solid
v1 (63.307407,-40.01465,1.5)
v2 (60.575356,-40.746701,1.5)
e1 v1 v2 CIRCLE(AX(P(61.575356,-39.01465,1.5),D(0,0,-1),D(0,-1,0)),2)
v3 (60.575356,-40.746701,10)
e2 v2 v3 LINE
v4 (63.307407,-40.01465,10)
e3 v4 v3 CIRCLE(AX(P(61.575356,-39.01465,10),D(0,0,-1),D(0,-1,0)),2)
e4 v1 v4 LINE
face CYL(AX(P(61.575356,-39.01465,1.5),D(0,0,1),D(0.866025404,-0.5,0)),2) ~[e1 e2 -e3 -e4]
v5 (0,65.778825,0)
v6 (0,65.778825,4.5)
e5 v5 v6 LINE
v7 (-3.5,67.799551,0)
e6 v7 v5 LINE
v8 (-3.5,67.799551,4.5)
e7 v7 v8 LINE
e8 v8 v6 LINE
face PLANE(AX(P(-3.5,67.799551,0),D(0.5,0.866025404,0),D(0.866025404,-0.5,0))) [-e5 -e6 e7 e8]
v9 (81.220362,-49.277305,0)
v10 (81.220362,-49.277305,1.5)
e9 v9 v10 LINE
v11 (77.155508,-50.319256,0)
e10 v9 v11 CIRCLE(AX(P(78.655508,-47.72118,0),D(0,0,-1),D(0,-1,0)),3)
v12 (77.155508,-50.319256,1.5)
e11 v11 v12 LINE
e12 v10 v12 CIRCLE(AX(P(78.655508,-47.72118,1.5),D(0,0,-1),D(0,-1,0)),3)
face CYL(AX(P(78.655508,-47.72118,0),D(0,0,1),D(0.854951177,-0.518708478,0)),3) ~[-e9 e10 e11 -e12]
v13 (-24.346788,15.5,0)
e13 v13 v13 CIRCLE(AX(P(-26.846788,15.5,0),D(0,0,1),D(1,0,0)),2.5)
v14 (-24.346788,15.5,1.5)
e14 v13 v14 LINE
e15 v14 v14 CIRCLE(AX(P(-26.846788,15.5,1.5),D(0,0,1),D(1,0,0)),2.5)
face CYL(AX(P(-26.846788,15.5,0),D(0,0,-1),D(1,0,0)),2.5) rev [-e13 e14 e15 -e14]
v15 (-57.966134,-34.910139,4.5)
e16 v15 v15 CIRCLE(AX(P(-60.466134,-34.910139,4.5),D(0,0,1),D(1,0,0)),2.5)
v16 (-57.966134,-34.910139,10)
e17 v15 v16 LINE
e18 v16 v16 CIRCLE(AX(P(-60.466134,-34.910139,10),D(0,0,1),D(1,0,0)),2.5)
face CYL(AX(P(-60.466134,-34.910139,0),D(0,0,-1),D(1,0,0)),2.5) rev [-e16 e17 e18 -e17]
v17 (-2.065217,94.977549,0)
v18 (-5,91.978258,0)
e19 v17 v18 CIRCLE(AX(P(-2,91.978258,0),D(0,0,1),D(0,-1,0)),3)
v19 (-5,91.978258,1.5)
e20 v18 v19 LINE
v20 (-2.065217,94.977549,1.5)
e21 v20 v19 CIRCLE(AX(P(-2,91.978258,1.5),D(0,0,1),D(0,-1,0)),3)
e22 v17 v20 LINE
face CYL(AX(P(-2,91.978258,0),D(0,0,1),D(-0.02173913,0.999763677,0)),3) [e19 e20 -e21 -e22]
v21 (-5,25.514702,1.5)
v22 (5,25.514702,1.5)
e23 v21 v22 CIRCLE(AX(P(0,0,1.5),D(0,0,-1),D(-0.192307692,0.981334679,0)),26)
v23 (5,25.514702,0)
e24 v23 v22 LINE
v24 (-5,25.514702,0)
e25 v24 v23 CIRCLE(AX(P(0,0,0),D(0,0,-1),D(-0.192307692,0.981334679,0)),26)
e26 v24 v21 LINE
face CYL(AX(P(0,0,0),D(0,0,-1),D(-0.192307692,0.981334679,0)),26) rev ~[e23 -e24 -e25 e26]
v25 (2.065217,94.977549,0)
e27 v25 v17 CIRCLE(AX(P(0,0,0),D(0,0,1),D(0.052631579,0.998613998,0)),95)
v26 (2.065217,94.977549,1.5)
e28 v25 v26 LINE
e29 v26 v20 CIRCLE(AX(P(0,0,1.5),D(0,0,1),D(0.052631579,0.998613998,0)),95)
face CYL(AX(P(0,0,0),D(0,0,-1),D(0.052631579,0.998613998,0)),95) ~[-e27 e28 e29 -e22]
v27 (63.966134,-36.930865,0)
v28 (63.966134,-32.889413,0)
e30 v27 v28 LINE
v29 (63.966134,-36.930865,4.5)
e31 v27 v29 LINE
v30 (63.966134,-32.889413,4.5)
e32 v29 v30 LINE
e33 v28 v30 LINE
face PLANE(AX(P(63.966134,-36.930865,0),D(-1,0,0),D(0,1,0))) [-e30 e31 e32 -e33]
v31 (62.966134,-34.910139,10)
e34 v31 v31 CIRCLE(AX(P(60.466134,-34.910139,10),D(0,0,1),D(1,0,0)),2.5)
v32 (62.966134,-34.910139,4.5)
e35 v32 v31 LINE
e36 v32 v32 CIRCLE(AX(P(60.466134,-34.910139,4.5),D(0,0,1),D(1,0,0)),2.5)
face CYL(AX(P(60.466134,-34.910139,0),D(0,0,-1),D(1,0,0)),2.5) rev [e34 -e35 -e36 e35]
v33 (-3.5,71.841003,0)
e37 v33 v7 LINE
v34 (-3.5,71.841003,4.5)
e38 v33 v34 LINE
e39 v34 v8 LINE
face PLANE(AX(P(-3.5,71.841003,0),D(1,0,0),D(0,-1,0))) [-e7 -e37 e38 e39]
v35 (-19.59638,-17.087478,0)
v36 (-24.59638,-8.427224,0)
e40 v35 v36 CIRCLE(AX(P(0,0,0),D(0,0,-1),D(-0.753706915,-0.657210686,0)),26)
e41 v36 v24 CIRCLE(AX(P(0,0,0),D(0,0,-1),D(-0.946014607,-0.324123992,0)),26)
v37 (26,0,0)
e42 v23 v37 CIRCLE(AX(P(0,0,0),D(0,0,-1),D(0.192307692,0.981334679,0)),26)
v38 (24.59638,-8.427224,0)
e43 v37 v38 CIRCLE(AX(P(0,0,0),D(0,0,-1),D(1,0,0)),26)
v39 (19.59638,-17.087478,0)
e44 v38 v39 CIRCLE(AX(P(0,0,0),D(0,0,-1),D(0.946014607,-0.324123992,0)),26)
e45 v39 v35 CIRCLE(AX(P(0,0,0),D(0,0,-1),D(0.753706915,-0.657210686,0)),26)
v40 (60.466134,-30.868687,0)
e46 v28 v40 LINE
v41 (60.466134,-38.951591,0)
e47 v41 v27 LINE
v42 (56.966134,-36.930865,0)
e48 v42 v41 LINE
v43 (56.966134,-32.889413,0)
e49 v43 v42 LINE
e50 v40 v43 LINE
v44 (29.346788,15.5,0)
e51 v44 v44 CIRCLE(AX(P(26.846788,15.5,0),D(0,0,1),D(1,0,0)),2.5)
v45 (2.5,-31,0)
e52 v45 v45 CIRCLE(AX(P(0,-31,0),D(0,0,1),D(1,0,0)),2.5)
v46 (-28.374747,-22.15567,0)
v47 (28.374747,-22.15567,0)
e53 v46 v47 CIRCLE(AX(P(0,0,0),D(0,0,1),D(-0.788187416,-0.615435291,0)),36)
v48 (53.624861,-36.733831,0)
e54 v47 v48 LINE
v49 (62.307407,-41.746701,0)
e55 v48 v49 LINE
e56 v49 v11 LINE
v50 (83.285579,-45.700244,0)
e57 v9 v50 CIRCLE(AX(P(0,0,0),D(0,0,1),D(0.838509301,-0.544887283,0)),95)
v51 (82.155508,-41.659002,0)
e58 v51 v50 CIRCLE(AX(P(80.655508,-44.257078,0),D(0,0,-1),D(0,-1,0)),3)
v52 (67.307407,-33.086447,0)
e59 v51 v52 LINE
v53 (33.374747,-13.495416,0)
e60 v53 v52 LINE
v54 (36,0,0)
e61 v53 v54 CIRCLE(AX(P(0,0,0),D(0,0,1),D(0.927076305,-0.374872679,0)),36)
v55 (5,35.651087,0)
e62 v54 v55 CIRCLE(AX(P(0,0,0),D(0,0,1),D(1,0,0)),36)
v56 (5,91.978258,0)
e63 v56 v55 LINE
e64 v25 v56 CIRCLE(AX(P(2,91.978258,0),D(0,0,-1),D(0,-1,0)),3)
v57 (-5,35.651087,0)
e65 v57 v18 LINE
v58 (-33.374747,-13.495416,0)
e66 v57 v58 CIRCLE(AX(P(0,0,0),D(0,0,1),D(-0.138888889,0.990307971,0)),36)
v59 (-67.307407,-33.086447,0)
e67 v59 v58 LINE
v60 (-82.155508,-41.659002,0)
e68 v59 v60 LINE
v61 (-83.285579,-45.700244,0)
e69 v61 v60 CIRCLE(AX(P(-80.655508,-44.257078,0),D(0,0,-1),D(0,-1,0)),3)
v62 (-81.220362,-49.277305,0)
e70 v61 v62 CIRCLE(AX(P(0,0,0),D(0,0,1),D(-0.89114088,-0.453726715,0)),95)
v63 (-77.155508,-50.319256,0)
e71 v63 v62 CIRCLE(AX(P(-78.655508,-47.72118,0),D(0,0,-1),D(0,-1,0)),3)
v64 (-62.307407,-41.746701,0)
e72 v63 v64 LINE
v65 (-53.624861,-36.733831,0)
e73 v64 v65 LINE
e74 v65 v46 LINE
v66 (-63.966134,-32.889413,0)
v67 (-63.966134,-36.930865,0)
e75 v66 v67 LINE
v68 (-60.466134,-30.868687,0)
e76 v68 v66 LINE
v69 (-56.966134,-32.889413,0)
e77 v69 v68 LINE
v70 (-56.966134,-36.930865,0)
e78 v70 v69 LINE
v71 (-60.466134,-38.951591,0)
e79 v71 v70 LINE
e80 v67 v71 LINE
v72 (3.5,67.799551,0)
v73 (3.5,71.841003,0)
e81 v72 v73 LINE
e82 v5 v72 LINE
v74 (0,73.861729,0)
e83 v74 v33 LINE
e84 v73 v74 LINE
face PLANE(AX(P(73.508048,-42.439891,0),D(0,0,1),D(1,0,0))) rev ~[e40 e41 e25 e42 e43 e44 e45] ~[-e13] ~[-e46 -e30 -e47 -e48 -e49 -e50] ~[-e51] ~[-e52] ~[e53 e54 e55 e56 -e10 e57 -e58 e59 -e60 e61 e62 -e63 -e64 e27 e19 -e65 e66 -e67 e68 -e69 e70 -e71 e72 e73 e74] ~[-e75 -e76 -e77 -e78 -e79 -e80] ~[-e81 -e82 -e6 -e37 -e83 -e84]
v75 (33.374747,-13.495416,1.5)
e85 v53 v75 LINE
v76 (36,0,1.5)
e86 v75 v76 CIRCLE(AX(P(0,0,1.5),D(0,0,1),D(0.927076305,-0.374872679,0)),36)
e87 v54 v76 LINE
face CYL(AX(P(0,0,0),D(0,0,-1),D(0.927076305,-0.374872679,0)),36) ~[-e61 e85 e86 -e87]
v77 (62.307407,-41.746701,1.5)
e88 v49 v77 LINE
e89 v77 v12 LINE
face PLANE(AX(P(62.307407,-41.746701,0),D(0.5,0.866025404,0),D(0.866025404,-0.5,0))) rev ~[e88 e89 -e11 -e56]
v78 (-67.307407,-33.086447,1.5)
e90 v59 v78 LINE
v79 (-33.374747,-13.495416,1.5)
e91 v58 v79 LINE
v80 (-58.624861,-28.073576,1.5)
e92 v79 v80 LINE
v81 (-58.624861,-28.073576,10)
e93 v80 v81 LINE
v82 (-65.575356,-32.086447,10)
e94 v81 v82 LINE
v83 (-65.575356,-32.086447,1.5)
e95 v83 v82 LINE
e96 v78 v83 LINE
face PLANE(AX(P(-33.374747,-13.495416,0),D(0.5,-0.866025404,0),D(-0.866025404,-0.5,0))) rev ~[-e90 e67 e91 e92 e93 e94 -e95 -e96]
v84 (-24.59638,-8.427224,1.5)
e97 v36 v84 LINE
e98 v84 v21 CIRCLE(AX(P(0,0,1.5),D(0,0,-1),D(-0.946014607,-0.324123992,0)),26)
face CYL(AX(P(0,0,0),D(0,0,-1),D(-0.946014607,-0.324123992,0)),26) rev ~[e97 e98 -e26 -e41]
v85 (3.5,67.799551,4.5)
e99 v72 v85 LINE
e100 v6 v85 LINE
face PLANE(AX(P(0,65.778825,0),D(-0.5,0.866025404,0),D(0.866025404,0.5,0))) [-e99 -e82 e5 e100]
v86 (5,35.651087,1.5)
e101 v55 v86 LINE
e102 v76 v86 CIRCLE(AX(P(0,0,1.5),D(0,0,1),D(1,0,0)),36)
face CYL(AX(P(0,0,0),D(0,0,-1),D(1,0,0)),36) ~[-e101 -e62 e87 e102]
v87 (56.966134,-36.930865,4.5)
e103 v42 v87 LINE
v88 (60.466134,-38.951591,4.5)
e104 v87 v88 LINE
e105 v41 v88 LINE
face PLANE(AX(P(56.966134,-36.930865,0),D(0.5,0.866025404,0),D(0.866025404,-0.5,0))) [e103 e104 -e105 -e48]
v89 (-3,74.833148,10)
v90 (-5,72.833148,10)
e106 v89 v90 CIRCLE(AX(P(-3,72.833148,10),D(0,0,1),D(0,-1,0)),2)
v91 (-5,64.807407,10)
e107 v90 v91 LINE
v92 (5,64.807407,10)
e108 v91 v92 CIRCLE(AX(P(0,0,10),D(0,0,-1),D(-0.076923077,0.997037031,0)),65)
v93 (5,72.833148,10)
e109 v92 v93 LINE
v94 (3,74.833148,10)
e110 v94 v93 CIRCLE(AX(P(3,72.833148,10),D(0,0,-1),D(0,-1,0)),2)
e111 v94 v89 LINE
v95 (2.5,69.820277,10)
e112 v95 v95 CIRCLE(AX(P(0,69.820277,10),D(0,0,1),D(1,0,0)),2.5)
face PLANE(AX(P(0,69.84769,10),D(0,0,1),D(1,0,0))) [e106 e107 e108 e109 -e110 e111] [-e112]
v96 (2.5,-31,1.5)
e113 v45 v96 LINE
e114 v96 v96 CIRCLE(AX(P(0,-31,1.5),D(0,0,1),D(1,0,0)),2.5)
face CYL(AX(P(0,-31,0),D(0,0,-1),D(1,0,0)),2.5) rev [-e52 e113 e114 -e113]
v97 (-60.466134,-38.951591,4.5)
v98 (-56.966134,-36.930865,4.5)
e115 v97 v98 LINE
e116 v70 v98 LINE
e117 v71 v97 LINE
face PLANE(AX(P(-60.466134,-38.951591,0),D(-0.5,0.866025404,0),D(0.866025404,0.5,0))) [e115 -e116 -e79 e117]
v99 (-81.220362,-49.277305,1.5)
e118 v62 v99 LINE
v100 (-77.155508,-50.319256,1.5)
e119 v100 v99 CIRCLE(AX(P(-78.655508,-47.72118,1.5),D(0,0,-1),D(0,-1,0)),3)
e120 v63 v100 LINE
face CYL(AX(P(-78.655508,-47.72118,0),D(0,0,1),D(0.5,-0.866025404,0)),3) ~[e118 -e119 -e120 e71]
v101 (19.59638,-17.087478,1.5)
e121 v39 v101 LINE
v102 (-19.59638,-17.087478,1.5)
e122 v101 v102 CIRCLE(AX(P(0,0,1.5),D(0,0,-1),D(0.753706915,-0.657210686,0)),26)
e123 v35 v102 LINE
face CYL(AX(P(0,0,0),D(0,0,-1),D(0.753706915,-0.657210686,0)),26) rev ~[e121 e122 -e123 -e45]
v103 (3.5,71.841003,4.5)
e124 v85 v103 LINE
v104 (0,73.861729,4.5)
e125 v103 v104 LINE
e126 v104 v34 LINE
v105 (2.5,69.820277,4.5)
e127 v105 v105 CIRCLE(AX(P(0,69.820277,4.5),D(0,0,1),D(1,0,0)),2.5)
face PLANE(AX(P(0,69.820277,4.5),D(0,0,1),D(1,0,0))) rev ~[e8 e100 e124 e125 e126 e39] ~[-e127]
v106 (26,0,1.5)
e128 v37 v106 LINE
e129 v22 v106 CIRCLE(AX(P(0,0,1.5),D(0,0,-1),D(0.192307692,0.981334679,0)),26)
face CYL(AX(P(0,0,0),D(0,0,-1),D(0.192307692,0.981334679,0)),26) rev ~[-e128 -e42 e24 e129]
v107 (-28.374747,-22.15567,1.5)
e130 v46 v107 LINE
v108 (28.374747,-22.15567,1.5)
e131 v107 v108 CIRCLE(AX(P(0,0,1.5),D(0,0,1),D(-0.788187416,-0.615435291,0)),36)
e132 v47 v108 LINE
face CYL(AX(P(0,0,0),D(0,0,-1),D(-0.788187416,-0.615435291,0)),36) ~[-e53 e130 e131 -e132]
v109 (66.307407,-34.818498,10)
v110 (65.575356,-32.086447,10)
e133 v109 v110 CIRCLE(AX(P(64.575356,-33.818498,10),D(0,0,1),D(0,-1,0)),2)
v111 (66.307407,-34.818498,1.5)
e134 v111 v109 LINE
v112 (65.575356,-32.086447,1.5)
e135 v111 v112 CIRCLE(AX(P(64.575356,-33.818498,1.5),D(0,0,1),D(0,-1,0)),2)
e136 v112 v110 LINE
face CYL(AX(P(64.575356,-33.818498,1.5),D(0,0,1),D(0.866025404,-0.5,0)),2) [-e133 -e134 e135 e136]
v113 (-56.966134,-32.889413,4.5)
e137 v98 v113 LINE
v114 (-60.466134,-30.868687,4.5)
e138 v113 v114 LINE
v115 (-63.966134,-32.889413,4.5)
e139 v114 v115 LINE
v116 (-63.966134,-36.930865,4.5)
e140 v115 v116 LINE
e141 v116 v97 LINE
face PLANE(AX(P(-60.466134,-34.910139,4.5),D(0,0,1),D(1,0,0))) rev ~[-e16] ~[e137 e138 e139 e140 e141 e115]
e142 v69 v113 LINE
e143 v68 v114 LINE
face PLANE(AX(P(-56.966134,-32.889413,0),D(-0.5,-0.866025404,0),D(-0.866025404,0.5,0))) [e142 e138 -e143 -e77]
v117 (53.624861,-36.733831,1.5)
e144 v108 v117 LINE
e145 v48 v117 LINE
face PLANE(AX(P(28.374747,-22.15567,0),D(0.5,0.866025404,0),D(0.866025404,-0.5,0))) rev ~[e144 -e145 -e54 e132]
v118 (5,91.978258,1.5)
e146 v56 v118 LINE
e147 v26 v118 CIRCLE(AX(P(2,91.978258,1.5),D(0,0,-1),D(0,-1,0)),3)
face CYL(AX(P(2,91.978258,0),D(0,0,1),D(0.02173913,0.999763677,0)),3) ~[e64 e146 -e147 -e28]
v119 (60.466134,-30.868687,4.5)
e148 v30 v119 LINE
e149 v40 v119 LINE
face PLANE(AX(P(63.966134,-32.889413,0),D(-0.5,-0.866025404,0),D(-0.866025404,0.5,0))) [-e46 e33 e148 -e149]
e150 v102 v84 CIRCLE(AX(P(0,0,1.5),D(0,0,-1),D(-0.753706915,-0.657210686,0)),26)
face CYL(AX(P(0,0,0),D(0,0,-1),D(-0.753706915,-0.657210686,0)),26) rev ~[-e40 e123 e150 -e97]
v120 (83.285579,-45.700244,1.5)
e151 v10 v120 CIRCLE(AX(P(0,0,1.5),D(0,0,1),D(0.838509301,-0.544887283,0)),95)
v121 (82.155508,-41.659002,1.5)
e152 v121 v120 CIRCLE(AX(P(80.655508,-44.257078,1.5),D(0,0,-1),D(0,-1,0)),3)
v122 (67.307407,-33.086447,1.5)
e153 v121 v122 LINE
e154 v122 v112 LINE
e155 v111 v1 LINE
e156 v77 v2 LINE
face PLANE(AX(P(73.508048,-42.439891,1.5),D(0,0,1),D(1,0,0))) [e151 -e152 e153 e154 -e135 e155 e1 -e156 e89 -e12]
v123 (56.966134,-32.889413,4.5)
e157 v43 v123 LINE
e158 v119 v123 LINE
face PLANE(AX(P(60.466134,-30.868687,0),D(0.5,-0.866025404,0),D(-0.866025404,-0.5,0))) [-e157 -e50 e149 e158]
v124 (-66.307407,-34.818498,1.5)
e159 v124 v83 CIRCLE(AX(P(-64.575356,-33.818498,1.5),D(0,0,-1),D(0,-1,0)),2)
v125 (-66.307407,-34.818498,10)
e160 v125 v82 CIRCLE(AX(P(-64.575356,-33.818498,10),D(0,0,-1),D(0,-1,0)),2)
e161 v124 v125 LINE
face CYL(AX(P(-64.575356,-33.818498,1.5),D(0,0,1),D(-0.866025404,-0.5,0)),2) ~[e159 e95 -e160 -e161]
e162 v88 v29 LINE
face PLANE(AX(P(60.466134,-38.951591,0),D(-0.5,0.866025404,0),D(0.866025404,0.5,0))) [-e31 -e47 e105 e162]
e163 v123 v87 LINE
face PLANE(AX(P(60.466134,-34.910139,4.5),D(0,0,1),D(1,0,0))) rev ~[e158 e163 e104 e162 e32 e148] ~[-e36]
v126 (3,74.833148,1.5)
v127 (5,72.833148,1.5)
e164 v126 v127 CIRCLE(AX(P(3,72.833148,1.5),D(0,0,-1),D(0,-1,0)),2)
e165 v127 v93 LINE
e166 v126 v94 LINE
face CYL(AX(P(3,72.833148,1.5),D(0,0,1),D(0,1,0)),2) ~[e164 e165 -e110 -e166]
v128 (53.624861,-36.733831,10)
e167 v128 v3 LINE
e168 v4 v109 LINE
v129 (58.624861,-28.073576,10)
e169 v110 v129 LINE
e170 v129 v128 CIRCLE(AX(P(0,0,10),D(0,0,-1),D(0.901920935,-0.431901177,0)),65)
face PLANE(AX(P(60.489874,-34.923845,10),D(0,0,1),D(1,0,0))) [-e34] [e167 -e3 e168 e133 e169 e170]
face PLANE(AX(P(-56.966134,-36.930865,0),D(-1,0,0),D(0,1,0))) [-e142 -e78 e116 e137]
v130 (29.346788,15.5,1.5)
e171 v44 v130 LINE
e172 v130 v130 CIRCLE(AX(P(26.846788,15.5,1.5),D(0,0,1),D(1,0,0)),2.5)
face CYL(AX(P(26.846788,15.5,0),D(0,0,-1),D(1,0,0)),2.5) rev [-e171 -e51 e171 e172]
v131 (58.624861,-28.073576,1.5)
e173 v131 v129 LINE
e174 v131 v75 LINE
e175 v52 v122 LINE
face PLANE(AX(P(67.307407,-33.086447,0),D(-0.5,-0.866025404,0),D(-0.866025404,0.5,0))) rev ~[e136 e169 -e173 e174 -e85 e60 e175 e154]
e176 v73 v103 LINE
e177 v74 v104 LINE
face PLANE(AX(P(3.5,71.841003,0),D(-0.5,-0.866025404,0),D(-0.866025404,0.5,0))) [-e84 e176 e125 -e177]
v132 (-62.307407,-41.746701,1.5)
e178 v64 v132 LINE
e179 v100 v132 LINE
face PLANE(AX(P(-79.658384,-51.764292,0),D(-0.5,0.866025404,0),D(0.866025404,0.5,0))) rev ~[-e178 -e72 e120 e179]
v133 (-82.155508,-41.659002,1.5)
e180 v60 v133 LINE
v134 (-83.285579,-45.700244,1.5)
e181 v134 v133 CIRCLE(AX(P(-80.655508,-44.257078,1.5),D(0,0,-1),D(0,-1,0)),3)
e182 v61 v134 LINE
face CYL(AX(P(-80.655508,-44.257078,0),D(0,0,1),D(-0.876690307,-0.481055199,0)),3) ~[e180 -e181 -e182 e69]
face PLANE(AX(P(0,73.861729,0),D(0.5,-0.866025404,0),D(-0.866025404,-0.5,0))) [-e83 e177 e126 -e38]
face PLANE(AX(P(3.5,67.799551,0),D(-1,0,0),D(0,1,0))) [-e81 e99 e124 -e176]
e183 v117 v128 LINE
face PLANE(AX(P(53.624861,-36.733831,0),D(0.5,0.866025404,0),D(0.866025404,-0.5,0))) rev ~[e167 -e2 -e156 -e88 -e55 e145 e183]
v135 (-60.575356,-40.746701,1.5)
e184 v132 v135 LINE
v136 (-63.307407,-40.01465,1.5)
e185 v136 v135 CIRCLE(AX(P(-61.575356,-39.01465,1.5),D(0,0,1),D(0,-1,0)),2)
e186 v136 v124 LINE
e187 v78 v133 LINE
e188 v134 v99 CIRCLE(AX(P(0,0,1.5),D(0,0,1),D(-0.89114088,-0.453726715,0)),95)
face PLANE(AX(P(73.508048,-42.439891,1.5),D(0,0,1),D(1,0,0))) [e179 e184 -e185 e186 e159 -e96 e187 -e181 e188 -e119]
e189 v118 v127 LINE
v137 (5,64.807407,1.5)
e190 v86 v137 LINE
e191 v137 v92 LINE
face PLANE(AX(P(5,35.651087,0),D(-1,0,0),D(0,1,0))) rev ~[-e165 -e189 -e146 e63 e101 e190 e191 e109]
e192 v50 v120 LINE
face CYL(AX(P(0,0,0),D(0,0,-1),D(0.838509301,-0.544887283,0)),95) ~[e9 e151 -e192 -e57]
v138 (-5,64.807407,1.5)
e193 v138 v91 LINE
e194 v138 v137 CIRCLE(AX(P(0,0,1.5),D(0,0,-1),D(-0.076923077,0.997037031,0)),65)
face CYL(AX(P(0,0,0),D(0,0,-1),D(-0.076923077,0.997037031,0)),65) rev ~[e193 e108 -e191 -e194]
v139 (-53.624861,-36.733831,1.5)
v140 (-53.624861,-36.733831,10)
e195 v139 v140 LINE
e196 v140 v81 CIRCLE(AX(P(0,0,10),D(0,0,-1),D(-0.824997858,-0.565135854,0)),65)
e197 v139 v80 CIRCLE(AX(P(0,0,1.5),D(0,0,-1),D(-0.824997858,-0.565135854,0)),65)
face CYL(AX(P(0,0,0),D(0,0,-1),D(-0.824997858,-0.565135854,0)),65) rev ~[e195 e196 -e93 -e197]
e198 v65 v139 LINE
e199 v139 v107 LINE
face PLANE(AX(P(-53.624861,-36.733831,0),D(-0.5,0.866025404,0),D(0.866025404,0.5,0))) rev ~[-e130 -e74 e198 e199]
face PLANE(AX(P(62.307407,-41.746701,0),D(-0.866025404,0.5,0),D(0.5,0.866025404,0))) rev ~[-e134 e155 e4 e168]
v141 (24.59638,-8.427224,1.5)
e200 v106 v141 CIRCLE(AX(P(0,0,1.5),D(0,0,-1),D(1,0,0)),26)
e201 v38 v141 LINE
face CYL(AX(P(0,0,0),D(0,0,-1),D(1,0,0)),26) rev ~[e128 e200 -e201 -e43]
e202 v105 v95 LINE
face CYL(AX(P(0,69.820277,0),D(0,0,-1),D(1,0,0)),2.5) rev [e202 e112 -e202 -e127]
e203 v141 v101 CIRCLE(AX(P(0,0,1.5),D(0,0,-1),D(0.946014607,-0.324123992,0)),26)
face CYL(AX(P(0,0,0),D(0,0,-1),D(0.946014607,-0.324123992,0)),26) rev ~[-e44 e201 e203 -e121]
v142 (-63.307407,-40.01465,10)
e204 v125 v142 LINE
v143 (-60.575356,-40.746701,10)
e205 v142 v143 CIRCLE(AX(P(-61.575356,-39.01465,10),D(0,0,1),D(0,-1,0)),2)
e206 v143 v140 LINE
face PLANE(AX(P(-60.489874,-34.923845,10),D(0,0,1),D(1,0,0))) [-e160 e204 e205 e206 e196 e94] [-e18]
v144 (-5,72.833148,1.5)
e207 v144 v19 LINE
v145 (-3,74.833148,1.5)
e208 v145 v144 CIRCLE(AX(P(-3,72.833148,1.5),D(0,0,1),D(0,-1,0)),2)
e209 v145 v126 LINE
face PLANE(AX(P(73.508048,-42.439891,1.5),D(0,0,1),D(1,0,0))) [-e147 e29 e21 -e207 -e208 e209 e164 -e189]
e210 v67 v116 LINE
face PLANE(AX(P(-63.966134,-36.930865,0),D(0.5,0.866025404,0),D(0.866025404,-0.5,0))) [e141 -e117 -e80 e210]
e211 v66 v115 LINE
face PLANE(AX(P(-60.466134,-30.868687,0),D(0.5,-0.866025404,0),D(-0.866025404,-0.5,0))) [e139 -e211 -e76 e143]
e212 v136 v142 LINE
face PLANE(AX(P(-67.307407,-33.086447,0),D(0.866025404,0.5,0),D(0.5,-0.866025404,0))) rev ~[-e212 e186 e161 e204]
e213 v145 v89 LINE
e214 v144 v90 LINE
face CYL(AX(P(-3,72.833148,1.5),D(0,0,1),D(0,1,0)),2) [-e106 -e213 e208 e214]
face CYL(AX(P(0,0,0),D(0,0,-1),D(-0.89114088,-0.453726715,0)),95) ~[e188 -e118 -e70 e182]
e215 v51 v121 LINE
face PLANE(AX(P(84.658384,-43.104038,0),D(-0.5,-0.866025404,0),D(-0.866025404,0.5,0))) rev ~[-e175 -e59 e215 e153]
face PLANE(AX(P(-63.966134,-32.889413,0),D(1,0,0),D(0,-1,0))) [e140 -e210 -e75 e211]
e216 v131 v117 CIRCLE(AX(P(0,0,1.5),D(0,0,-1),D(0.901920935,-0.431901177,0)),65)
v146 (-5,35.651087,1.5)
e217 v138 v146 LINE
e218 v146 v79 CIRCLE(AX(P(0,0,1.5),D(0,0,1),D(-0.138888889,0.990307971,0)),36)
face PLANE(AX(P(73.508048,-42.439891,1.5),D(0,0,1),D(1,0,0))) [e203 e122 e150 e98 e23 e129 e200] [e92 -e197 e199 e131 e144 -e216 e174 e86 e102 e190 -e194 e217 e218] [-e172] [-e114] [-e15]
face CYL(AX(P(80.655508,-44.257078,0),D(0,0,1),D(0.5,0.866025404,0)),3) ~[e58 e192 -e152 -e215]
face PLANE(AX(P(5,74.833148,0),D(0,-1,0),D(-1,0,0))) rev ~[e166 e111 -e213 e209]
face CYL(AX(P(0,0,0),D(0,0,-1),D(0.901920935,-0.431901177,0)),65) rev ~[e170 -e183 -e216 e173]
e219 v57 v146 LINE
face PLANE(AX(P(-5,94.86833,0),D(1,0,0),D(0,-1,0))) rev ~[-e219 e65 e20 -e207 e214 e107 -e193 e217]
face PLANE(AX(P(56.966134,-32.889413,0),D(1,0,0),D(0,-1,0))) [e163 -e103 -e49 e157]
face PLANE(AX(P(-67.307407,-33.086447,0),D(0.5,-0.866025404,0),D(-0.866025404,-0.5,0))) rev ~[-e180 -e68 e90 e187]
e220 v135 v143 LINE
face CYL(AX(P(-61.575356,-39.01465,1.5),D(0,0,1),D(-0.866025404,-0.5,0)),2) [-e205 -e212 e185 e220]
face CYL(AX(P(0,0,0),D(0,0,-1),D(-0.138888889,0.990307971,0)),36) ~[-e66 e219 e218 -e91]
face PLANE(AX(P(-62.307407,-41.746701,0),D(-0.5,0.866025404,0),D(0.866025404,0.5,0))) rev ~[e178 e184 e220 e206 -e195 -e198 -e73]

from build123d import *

# Parameters (mm, degrees)
F0_R     = 2.5
F1_DEPTH = 1.5
F2_DEPTH = 10
F3_R     = 2
F4_R     = 3
F5_DEPTH = 4.5


with BuildPart() as f1:
    # F0 (on Top) → F1 (new body)
    with BuildSketch(Plane.XY):
        with BuildLine():
            Line((84.6583836258, -43.1040378836), (67.3074069841, -33.0864468488))
            ThreePointArc((67.3074069841, -33.0864468488), (64.9519052838, -37.5), (62.3074069841, -41.7467008867))
            Line((62.3074069841, -41.7467008867), (79.6583836258, -51.7642919214))
            ThreePointArc((79.6583836258, -51.7642919214), (82.2724133595, -47.5), (84.6583836258, -43.1040378836))
        make_face()
        with BuildLine():
            ThreePointArc((62.3074069841, -41.7467008867), (64.9519052838, -37.5), (67.3074069841, -33.0864468488))
            Line((67.3074069841, -33.0864468488), (62.3074069841, -41.7467008867))
        make_face()
        with BuildLine():
            Line((67.3074069841, -33.0864468488), (58.6248608016, -28.0735764731))
            ThreePointArc((58.6248608016, -28.0735764731), (56.291651246, -32.5), (53.6248608016, -36.733830511))
            Line((53.6248608016, -36.733830511), (62.3074069841, -41.7467008867))
            Line((62.3074069841, -41.7467008867), (67.3074069841, -33.0864468488))
        make_face()
        Polygon((63.9661338928, -36.9308646221), (60.4661338928, -38.9515905642), (56.9661338928, -36.9308646221), (56.9661338928, -32.8894127377), (60.4661338928, -30.8686867956), (63.9661338928, -32.8894127377), align=None, mode=Mode.SUBTRACT)
        with BuildLine():
            Line((58.6248608016, -28.0735764731), (33.3747469625, -13.4954164511))
            ThreePointArc((33.3747469625, -13.4954164511), (31.1769145362, -18), (28.3747469625, -22.1556704889))
            Line((28.3747469625, -22.1556704889), (53.6248608016, -36.733830511))
            ThreePointArc((53.6248608016, -36.733830511), (56.291651246, -32.5), (58.6248608016, -28.0735764731))
        make_face()
        with BuildLine():
            Line((33.3747469625, -13.4954164511), (24.596379794, -8.4272238033))
            ThreePointArc((24.596379794, -8.4272238033), (22.5166604984, -13), (19.596379794, -17.0874778411))
            Line((19.596379794, -17.0874778411), (28.3747469625, -22.1556704889))
            ThreePointArc((28.3747469625, -22.1556704889), (31.1769145362, -18), (33.3747469625, -13.4954164511))
        make_face()
        with BuildLine():
            ThreePointArc((5, 25.5147016443), (20.0748598999, 16.5227116419), (26, 0))
            ThreePointArc((26, 0), (25.6466944716, -4.2716580713), (24.596379794, -8.4272238033))
            Line((24.596379794, -8.4272238033), (33.3747469625, -13.4954164511))
            ThreePointArc((33.3747469625, -13.4954164511), (35.3375925231, -6.8741948383), (36, 0))
            ThreePointArc((36, 0), (27.1661554144, 23.622023622), (5, 35.65108694))
            Line((5, 35.65108694), (5, 25.5147016443))
        make_face()
        with Locations((26.8467875173, 15.5)):
            Circle(F0_R, mode=Mode.SUBTRACT)
        with BuildLine():
            Line((28.3747469625, -22.1556704889), (19.596379794, -17.0874778411))
            ThreePointArc((19.596379794, -17.0874778411), (0, -26), (-19.596379794, -17.0874778411))
            Line((-19.596379794, -17.0874778411), (-28.3747469625, -22.1556704889))
            ThreePointArc((-28.3747469625, -22.1556704889), (0, -36), (28.3747469625, -22.1556704889))
        make_face()
        with Locations((0, -31)):
            Circle(F0_R, mode=Mode.SUBTRACT)
        with BuildLine():
            ThreePointArc((-28.3747469625, -22.1556704889), (-31.1769145362, -18), (-33.3747469625, -13.4954164511))
            Line((-33.3747469625, -13.4954164511), (-58.6248608016, -28.0735764731))
            ThreePointArc((-58.6248608016, -28.0735764731), (-56.291651246, -32.5), (-53.6248608016, -36.733830511))
            Line((-53.6248608016, -36.733830511), (-28.3747469625, -22.1556704889))
        make_face()
        with BuildLine():
            ThreePointArc((-19.596379794, -17.0874778411), (-22.5166604984, -13), (-24.596379794, -8.4272238033))
            Line((-24.596379794, -8.4272238033), (-33.3747469625, -13.4954164511))
            ThreePointArc((-33.3747469625, -13.4954164511), (-31.1769145362, -18), (-28.3747469625, -22.1556704889))
            Line((-28.3747469625, -22.1556704889), (-19.596379794, -17.0874778411))
        make_face()
        with BuildLine():
            ThreePointArc((-53.6248608016, -36.733830511), (-56.291651246, -32.5), (-58.6248608016, -28.0735764731))
            Line((-58.6248608016, -28.0735764731), (-67.3074069841, -33.0864468488))
            Line((-67.3074069841, -33.0864468488), (-62.3074069841, -41.7467008867))
            Line((-62.3074069841, -41.7467008867), (-53.6248608016, -36.733830511))
        make_face()
        Polygon((-63.9661338928, -32.8894127377), (-60.4661338928, -30.8686867956), (-56.9661338928, -32.8894127377), (-56.9661338928, -36.9308646221), (-60.4661338928, -38.9515905642), (-63.9661338928, -36.9308646221), align=None, mode=Mode.SUBTRACT)
        with BuildLine():
            Line((-62.3074069841, -41.7467008867), (-67.3074069841, -33.0864468488))
            ThreePointArc((-67.3074069841, -33.0864468488), (-64.9519052838, -37.5), (-62.3074069841, -41.7467008867))
        make_face()
        with BuildLine():
            ThreePointArc((-62.3074069841, -41.7467008867), (-64.9519052838, -37.5), (-67.3074069841, -33.0864468488))
            Line((-67.3074069841, -33.0864468488), (-84.6583836258, -43.1040378836))
            ThreePointArc((-84.6583836258, -43.1040378836), (-82.2724133595, -47.5), (-79.6583836258, -51.7642919214))
            Line((-79.6583836258, -51.7642919214), (-62.3074069841, -41.7467008867))
        make_face()
        with BuildLine():
            ThreePointArc((-24.596379794, -8.4272238033), (-22.5166604984, 13), (-5, 25.5147016443))
            Line((-5, 25.5147016443), (-5, 35.65108694))
            ThreePointArc((-5, 35.65108694), (-31.1769145362, 18), (-33.3747469625, -13.4954164511))
            Line((-33.3747469625, -13.4954164511), (-24.596379794, -8.4272238033))
        make_face()
        with Locations((-26.8467875173, 15.5)):
            Circle(F0_R, mode=Mode.SUBTRACT)
        with BuildLine():
            ThreePointArc((-5, 25.5147016443), (0, 26), (5, 25.5147016443))
            Line((5, 25.5147016443), (5, 35.65108694))
            ThreePointArc((5, 35.65108694), (0, 36), (-5, 35.65108694))
            Line((-5, 35.65108694), (-5, 25.5147016443))
        make_face()
        with BuildLine():
            ThreePointArc((-5, 35.65108694), (0, 36), (5, 35.65108694))
            Line((5, 35.65108694), (5, 64.8074069841))
            ThreePointArc((5, 64.8074069841), (0, 65), (-5, 64.8074069841))
            Line((-5, 64.8074069841), (-5, 35.65108694))
        make_face()
        with BuildLine():
            ThreePointArc((-5, 64.8074069841), (0, 65), (5, 64.8074069841))
            Line((5, 64.8074069841), (5, 74.8331477355))
            Line((5, 74.8331477355), (-5, 74.8331477355))
            Line((-5, 74.8331477355), (-5, 64.8074069841))
        make_face()
        Polygon((0, 73.8617292441), (3.5, 71.8410033019), (3.5, 67.7995514176), (0, 65.7788254755), (-3.5, 67.7995514176), (-3.5, 71.8410033019), align=None, mode=Mode.SUBTRACT)
        with BuildLine():
            Line((-5, 74.8331477355), (5, 74.8331477355))
            ThreePointArc((5, 74.8331477355), (0, 75), (-5, 74.8331477355))
        make_face()
        with BuildLine():
            ThreePointArc((-5, 74.8331477355), (0, 75), (5, 74.8331477355))
            Line((5, 74.8331477355), (5, 94.8683298051))
            ThreePointArc((5, 94.8683298051), (0, 95), (-5, 94.8683298051))
            Line((-5, 94.8683298051), (-5, 74.8331477355))
        make_face()
        Polygon((56.9661338928, -36.9308646221), (60.4661338928, -38.9515905642), (63.9661338928, -36.9308646221), (63.9661338928, -32.8894127377), (60.4661338928, -30.8686867956), (56.9661338928, -32.8894127377), align=None)
        with Locations((60.4661338928, -34.9101386799)):
            Circle(F0_R, mode=Mode.SUBTRACT)
        Polygon((3.5, 67.7995514176), (3.5, 71.8410033019), (0, 73.8617292441), (-3.5, 71.8410033019), (-3.5, 67.7995514176), (0, 65.7788254755), align=None)
        with Locations((0, 69.8202773598)):
            Circle(F0_R, mode=Mode.SUBTRACT)
        Polygon((-56.9661338928, -32.8894127377), (-60.4661338928, -30.8686867956), (-63.9661338928, -32.8894127377), (-63.9661338928, -36.9308646221), (-60.4661338928, -38.9515905642), (-56.9661338928, -36.9308646221), align=None)
        with Locations((-60.4661338928, -34.9101386799)):
            Circle(F0_R, mode=Mode.SUBTRACT)
    extrude(amount=F1_DEPTH)

    # F0 (on Top) → F2 (join)
    with BuildSketch(Plane.XY):
        with BuildLine():
            ThreePointArc((-53.6248608016, -36.733830511), (-56.291651246, -32.5), (-58.6248608016, -28.0735764731))
            Line((-58.6248608016, -28.0735764731), (-67.3074069841, -33.0864468488))
            Line((-67.3074069841, -33.0864468488), (-62.3074069841, -41.7467008867))
            Line((-62.3074069841, -41.7467008867), (-53.6248608016, -36.733830511))
        make_face()
        Polygon((-63.9661338928, -32.8894127377), (-60.4661338928, -30.8686867956), (-56.9661338928, -32.8894127377), (-56.9661338928, -36.9308646221), (-60.4661338928, -38.9515905642), (-63.9661338928, -36.9308646221), align=None, mode=Mode.SUBTRACT)
        with BuildLine():
            ThreePointArc((-5, 64.8074069841), (0, 65), (5, 64.8074069841))
            Line((5, 64.8074069841), (5, 74.8331477355))
            Line((5, 74.8331477355), (-5, 74.8331477355))
            Line((-5, 74.8331477355), (-5, 64.8074069841))
        make_face()
        Polygon((0, 73.8617292441), (3.5, 71.8410033019), (3.5, 67.7995514176), (0, 65.7788254755), (-3.5, 67.7995514176), (-3.5, 71.8410033019), align=None, mode=Mode.SUBTRACT)
        with BuildLine():
            Line((67.3074069841, -33.0864468488), (58.6248608016, -28.0735764731))
            ThreePointArc((58.6248608016, -28.0735764731), (56.291651246, -32.5), (53.6248608016, -36.733830511))
            Line((53.6248608016, -36.733830511), (62.3074069841, -41.7467008867))
            Line((62.3074069841, -41.7467008867), (67.3074069841, -33.0864468488))
        make_face()
        Polygon((63.9661338928, -36.9308646221), (60.4661338928, -38.9515905642), (56.9661338928, -36.9308646221), (56.9661338928, -32.8894127377), (60.4661338928, -30.8686867956), (63.9661338928, -32.8894127377), align=None, mode=Mode.SUBTRACT)
        Polygon((-56.9661338928, -32.8894127377), (-60.4661338928, -30.8686867956), (-63.9661338928, -32.8894127377), (-63.9661338928, -36.9308646221), (-60.4661338928, -38.9515905642), (-56.9661338928, -36.9308646221), align=None)
        with Locations((-60.4661338928, -34.9101386799)):
            Circle(F0_R, mode=Mode.SUBTRACT)
        Polygon((56.9661338928, -36.9308646221), (60.4661338928, -38.9515905642), (63.9661338928, -36.9308646221), (63.9661338928, -32.8894127377), (60.4661338928, -30.8686867956), (56.9661338928, -32.8894127377), align=None)
        with Locations((60.4661338928, -34.9101386799)):
            Circle(F0_R, mode=Mode.SUBTRACT)
        Polygon((3.5, 67.7995514176), (3.5, 71.8410033019), (0, 73.8617292441), (-3.5, 71.8410033019), (-3.5, 67.7995514176), (0, 65.7788254755), align=None)
        with Locations((0, 69.8202773598)):
            Circle(F0_R, mode=Mode.SUBTRACT)
    extrude(amount=F2_DEPTH)

    # F3
    f3_edges = [f1.edges().sort_by_distance(p)[0] for p in [
        (67.307407, -33.086447, 5.75),
        (62.307407, -41.746701, 5.75),
        (-62.307407, -41.746701, 5.75),
        (-67.307407, -33.086447, 5.75),
        (5, 74.833148, 5.75),
        (-5, 74.833148, 5.75),
    ]]
    fillet(f3_edges, radius=F3_R)

    # F4
    f4_edges = [f1.edges().sort_by_distance(p)[0] for p in [
        (84.658384, -43.104038, 0.75),
        (79.658384, -51.764292, 0.75),
        (-79.658384, -51.764292, 0.75),
        (-84.658384, -43.104038, 0.75),
        (-5, 94.86833, 0.75),
        (5, 94.86833, 0.75),
    ]]
    fillet(f4_edges, radius=F4_R)

    # F0 (on Top) → F5 (cut)
    with BuildSketch(Plane.XY):
        Polygon((56.9661338928, -36.9308646221), (60.4661338928, -38.9515905642), (63.9661338928, -36.9308646221), (63.9661338928, -32.8894127377), (60.4661338928, -30.8686867956), (56.9661338928, -32.8894127377), align=None)
        with Locations((60.4661338928, -34.9101386799)):
            Circle(F0_R, mode=Mode.SUBTRACT)
        Polygon((-56.9661338928, -32.8894127377), (-60.4661338928, -30.8686867956), (-63.9661338928, -32.8894127377), (-63.9661338928, -36.9308646221), (-60.4661338928, -38.9515905642), (-56.9661338928, -36.9308646221), align=None)
        with Locations((-60.4661338928, -34.9101386799)):
            Circle(F0_R, mode=Mode.SUBTRACT)
        Polygon((3.5, 67.7995514176), (3.5, 71.8410033019), (0, 73.8617292441), (-3.5, 71.8410033019), (-3.5, 67.7995514176), (0, 65.7788254755), align=None)
        with Locations((0, 69.8202773598)):
            Circle(F0_R, mode=Mode.SUBTRACT)
    extrude(amount=F5_DEPTH, mode=Mode.SUBTRACT)


solid = f1.part
